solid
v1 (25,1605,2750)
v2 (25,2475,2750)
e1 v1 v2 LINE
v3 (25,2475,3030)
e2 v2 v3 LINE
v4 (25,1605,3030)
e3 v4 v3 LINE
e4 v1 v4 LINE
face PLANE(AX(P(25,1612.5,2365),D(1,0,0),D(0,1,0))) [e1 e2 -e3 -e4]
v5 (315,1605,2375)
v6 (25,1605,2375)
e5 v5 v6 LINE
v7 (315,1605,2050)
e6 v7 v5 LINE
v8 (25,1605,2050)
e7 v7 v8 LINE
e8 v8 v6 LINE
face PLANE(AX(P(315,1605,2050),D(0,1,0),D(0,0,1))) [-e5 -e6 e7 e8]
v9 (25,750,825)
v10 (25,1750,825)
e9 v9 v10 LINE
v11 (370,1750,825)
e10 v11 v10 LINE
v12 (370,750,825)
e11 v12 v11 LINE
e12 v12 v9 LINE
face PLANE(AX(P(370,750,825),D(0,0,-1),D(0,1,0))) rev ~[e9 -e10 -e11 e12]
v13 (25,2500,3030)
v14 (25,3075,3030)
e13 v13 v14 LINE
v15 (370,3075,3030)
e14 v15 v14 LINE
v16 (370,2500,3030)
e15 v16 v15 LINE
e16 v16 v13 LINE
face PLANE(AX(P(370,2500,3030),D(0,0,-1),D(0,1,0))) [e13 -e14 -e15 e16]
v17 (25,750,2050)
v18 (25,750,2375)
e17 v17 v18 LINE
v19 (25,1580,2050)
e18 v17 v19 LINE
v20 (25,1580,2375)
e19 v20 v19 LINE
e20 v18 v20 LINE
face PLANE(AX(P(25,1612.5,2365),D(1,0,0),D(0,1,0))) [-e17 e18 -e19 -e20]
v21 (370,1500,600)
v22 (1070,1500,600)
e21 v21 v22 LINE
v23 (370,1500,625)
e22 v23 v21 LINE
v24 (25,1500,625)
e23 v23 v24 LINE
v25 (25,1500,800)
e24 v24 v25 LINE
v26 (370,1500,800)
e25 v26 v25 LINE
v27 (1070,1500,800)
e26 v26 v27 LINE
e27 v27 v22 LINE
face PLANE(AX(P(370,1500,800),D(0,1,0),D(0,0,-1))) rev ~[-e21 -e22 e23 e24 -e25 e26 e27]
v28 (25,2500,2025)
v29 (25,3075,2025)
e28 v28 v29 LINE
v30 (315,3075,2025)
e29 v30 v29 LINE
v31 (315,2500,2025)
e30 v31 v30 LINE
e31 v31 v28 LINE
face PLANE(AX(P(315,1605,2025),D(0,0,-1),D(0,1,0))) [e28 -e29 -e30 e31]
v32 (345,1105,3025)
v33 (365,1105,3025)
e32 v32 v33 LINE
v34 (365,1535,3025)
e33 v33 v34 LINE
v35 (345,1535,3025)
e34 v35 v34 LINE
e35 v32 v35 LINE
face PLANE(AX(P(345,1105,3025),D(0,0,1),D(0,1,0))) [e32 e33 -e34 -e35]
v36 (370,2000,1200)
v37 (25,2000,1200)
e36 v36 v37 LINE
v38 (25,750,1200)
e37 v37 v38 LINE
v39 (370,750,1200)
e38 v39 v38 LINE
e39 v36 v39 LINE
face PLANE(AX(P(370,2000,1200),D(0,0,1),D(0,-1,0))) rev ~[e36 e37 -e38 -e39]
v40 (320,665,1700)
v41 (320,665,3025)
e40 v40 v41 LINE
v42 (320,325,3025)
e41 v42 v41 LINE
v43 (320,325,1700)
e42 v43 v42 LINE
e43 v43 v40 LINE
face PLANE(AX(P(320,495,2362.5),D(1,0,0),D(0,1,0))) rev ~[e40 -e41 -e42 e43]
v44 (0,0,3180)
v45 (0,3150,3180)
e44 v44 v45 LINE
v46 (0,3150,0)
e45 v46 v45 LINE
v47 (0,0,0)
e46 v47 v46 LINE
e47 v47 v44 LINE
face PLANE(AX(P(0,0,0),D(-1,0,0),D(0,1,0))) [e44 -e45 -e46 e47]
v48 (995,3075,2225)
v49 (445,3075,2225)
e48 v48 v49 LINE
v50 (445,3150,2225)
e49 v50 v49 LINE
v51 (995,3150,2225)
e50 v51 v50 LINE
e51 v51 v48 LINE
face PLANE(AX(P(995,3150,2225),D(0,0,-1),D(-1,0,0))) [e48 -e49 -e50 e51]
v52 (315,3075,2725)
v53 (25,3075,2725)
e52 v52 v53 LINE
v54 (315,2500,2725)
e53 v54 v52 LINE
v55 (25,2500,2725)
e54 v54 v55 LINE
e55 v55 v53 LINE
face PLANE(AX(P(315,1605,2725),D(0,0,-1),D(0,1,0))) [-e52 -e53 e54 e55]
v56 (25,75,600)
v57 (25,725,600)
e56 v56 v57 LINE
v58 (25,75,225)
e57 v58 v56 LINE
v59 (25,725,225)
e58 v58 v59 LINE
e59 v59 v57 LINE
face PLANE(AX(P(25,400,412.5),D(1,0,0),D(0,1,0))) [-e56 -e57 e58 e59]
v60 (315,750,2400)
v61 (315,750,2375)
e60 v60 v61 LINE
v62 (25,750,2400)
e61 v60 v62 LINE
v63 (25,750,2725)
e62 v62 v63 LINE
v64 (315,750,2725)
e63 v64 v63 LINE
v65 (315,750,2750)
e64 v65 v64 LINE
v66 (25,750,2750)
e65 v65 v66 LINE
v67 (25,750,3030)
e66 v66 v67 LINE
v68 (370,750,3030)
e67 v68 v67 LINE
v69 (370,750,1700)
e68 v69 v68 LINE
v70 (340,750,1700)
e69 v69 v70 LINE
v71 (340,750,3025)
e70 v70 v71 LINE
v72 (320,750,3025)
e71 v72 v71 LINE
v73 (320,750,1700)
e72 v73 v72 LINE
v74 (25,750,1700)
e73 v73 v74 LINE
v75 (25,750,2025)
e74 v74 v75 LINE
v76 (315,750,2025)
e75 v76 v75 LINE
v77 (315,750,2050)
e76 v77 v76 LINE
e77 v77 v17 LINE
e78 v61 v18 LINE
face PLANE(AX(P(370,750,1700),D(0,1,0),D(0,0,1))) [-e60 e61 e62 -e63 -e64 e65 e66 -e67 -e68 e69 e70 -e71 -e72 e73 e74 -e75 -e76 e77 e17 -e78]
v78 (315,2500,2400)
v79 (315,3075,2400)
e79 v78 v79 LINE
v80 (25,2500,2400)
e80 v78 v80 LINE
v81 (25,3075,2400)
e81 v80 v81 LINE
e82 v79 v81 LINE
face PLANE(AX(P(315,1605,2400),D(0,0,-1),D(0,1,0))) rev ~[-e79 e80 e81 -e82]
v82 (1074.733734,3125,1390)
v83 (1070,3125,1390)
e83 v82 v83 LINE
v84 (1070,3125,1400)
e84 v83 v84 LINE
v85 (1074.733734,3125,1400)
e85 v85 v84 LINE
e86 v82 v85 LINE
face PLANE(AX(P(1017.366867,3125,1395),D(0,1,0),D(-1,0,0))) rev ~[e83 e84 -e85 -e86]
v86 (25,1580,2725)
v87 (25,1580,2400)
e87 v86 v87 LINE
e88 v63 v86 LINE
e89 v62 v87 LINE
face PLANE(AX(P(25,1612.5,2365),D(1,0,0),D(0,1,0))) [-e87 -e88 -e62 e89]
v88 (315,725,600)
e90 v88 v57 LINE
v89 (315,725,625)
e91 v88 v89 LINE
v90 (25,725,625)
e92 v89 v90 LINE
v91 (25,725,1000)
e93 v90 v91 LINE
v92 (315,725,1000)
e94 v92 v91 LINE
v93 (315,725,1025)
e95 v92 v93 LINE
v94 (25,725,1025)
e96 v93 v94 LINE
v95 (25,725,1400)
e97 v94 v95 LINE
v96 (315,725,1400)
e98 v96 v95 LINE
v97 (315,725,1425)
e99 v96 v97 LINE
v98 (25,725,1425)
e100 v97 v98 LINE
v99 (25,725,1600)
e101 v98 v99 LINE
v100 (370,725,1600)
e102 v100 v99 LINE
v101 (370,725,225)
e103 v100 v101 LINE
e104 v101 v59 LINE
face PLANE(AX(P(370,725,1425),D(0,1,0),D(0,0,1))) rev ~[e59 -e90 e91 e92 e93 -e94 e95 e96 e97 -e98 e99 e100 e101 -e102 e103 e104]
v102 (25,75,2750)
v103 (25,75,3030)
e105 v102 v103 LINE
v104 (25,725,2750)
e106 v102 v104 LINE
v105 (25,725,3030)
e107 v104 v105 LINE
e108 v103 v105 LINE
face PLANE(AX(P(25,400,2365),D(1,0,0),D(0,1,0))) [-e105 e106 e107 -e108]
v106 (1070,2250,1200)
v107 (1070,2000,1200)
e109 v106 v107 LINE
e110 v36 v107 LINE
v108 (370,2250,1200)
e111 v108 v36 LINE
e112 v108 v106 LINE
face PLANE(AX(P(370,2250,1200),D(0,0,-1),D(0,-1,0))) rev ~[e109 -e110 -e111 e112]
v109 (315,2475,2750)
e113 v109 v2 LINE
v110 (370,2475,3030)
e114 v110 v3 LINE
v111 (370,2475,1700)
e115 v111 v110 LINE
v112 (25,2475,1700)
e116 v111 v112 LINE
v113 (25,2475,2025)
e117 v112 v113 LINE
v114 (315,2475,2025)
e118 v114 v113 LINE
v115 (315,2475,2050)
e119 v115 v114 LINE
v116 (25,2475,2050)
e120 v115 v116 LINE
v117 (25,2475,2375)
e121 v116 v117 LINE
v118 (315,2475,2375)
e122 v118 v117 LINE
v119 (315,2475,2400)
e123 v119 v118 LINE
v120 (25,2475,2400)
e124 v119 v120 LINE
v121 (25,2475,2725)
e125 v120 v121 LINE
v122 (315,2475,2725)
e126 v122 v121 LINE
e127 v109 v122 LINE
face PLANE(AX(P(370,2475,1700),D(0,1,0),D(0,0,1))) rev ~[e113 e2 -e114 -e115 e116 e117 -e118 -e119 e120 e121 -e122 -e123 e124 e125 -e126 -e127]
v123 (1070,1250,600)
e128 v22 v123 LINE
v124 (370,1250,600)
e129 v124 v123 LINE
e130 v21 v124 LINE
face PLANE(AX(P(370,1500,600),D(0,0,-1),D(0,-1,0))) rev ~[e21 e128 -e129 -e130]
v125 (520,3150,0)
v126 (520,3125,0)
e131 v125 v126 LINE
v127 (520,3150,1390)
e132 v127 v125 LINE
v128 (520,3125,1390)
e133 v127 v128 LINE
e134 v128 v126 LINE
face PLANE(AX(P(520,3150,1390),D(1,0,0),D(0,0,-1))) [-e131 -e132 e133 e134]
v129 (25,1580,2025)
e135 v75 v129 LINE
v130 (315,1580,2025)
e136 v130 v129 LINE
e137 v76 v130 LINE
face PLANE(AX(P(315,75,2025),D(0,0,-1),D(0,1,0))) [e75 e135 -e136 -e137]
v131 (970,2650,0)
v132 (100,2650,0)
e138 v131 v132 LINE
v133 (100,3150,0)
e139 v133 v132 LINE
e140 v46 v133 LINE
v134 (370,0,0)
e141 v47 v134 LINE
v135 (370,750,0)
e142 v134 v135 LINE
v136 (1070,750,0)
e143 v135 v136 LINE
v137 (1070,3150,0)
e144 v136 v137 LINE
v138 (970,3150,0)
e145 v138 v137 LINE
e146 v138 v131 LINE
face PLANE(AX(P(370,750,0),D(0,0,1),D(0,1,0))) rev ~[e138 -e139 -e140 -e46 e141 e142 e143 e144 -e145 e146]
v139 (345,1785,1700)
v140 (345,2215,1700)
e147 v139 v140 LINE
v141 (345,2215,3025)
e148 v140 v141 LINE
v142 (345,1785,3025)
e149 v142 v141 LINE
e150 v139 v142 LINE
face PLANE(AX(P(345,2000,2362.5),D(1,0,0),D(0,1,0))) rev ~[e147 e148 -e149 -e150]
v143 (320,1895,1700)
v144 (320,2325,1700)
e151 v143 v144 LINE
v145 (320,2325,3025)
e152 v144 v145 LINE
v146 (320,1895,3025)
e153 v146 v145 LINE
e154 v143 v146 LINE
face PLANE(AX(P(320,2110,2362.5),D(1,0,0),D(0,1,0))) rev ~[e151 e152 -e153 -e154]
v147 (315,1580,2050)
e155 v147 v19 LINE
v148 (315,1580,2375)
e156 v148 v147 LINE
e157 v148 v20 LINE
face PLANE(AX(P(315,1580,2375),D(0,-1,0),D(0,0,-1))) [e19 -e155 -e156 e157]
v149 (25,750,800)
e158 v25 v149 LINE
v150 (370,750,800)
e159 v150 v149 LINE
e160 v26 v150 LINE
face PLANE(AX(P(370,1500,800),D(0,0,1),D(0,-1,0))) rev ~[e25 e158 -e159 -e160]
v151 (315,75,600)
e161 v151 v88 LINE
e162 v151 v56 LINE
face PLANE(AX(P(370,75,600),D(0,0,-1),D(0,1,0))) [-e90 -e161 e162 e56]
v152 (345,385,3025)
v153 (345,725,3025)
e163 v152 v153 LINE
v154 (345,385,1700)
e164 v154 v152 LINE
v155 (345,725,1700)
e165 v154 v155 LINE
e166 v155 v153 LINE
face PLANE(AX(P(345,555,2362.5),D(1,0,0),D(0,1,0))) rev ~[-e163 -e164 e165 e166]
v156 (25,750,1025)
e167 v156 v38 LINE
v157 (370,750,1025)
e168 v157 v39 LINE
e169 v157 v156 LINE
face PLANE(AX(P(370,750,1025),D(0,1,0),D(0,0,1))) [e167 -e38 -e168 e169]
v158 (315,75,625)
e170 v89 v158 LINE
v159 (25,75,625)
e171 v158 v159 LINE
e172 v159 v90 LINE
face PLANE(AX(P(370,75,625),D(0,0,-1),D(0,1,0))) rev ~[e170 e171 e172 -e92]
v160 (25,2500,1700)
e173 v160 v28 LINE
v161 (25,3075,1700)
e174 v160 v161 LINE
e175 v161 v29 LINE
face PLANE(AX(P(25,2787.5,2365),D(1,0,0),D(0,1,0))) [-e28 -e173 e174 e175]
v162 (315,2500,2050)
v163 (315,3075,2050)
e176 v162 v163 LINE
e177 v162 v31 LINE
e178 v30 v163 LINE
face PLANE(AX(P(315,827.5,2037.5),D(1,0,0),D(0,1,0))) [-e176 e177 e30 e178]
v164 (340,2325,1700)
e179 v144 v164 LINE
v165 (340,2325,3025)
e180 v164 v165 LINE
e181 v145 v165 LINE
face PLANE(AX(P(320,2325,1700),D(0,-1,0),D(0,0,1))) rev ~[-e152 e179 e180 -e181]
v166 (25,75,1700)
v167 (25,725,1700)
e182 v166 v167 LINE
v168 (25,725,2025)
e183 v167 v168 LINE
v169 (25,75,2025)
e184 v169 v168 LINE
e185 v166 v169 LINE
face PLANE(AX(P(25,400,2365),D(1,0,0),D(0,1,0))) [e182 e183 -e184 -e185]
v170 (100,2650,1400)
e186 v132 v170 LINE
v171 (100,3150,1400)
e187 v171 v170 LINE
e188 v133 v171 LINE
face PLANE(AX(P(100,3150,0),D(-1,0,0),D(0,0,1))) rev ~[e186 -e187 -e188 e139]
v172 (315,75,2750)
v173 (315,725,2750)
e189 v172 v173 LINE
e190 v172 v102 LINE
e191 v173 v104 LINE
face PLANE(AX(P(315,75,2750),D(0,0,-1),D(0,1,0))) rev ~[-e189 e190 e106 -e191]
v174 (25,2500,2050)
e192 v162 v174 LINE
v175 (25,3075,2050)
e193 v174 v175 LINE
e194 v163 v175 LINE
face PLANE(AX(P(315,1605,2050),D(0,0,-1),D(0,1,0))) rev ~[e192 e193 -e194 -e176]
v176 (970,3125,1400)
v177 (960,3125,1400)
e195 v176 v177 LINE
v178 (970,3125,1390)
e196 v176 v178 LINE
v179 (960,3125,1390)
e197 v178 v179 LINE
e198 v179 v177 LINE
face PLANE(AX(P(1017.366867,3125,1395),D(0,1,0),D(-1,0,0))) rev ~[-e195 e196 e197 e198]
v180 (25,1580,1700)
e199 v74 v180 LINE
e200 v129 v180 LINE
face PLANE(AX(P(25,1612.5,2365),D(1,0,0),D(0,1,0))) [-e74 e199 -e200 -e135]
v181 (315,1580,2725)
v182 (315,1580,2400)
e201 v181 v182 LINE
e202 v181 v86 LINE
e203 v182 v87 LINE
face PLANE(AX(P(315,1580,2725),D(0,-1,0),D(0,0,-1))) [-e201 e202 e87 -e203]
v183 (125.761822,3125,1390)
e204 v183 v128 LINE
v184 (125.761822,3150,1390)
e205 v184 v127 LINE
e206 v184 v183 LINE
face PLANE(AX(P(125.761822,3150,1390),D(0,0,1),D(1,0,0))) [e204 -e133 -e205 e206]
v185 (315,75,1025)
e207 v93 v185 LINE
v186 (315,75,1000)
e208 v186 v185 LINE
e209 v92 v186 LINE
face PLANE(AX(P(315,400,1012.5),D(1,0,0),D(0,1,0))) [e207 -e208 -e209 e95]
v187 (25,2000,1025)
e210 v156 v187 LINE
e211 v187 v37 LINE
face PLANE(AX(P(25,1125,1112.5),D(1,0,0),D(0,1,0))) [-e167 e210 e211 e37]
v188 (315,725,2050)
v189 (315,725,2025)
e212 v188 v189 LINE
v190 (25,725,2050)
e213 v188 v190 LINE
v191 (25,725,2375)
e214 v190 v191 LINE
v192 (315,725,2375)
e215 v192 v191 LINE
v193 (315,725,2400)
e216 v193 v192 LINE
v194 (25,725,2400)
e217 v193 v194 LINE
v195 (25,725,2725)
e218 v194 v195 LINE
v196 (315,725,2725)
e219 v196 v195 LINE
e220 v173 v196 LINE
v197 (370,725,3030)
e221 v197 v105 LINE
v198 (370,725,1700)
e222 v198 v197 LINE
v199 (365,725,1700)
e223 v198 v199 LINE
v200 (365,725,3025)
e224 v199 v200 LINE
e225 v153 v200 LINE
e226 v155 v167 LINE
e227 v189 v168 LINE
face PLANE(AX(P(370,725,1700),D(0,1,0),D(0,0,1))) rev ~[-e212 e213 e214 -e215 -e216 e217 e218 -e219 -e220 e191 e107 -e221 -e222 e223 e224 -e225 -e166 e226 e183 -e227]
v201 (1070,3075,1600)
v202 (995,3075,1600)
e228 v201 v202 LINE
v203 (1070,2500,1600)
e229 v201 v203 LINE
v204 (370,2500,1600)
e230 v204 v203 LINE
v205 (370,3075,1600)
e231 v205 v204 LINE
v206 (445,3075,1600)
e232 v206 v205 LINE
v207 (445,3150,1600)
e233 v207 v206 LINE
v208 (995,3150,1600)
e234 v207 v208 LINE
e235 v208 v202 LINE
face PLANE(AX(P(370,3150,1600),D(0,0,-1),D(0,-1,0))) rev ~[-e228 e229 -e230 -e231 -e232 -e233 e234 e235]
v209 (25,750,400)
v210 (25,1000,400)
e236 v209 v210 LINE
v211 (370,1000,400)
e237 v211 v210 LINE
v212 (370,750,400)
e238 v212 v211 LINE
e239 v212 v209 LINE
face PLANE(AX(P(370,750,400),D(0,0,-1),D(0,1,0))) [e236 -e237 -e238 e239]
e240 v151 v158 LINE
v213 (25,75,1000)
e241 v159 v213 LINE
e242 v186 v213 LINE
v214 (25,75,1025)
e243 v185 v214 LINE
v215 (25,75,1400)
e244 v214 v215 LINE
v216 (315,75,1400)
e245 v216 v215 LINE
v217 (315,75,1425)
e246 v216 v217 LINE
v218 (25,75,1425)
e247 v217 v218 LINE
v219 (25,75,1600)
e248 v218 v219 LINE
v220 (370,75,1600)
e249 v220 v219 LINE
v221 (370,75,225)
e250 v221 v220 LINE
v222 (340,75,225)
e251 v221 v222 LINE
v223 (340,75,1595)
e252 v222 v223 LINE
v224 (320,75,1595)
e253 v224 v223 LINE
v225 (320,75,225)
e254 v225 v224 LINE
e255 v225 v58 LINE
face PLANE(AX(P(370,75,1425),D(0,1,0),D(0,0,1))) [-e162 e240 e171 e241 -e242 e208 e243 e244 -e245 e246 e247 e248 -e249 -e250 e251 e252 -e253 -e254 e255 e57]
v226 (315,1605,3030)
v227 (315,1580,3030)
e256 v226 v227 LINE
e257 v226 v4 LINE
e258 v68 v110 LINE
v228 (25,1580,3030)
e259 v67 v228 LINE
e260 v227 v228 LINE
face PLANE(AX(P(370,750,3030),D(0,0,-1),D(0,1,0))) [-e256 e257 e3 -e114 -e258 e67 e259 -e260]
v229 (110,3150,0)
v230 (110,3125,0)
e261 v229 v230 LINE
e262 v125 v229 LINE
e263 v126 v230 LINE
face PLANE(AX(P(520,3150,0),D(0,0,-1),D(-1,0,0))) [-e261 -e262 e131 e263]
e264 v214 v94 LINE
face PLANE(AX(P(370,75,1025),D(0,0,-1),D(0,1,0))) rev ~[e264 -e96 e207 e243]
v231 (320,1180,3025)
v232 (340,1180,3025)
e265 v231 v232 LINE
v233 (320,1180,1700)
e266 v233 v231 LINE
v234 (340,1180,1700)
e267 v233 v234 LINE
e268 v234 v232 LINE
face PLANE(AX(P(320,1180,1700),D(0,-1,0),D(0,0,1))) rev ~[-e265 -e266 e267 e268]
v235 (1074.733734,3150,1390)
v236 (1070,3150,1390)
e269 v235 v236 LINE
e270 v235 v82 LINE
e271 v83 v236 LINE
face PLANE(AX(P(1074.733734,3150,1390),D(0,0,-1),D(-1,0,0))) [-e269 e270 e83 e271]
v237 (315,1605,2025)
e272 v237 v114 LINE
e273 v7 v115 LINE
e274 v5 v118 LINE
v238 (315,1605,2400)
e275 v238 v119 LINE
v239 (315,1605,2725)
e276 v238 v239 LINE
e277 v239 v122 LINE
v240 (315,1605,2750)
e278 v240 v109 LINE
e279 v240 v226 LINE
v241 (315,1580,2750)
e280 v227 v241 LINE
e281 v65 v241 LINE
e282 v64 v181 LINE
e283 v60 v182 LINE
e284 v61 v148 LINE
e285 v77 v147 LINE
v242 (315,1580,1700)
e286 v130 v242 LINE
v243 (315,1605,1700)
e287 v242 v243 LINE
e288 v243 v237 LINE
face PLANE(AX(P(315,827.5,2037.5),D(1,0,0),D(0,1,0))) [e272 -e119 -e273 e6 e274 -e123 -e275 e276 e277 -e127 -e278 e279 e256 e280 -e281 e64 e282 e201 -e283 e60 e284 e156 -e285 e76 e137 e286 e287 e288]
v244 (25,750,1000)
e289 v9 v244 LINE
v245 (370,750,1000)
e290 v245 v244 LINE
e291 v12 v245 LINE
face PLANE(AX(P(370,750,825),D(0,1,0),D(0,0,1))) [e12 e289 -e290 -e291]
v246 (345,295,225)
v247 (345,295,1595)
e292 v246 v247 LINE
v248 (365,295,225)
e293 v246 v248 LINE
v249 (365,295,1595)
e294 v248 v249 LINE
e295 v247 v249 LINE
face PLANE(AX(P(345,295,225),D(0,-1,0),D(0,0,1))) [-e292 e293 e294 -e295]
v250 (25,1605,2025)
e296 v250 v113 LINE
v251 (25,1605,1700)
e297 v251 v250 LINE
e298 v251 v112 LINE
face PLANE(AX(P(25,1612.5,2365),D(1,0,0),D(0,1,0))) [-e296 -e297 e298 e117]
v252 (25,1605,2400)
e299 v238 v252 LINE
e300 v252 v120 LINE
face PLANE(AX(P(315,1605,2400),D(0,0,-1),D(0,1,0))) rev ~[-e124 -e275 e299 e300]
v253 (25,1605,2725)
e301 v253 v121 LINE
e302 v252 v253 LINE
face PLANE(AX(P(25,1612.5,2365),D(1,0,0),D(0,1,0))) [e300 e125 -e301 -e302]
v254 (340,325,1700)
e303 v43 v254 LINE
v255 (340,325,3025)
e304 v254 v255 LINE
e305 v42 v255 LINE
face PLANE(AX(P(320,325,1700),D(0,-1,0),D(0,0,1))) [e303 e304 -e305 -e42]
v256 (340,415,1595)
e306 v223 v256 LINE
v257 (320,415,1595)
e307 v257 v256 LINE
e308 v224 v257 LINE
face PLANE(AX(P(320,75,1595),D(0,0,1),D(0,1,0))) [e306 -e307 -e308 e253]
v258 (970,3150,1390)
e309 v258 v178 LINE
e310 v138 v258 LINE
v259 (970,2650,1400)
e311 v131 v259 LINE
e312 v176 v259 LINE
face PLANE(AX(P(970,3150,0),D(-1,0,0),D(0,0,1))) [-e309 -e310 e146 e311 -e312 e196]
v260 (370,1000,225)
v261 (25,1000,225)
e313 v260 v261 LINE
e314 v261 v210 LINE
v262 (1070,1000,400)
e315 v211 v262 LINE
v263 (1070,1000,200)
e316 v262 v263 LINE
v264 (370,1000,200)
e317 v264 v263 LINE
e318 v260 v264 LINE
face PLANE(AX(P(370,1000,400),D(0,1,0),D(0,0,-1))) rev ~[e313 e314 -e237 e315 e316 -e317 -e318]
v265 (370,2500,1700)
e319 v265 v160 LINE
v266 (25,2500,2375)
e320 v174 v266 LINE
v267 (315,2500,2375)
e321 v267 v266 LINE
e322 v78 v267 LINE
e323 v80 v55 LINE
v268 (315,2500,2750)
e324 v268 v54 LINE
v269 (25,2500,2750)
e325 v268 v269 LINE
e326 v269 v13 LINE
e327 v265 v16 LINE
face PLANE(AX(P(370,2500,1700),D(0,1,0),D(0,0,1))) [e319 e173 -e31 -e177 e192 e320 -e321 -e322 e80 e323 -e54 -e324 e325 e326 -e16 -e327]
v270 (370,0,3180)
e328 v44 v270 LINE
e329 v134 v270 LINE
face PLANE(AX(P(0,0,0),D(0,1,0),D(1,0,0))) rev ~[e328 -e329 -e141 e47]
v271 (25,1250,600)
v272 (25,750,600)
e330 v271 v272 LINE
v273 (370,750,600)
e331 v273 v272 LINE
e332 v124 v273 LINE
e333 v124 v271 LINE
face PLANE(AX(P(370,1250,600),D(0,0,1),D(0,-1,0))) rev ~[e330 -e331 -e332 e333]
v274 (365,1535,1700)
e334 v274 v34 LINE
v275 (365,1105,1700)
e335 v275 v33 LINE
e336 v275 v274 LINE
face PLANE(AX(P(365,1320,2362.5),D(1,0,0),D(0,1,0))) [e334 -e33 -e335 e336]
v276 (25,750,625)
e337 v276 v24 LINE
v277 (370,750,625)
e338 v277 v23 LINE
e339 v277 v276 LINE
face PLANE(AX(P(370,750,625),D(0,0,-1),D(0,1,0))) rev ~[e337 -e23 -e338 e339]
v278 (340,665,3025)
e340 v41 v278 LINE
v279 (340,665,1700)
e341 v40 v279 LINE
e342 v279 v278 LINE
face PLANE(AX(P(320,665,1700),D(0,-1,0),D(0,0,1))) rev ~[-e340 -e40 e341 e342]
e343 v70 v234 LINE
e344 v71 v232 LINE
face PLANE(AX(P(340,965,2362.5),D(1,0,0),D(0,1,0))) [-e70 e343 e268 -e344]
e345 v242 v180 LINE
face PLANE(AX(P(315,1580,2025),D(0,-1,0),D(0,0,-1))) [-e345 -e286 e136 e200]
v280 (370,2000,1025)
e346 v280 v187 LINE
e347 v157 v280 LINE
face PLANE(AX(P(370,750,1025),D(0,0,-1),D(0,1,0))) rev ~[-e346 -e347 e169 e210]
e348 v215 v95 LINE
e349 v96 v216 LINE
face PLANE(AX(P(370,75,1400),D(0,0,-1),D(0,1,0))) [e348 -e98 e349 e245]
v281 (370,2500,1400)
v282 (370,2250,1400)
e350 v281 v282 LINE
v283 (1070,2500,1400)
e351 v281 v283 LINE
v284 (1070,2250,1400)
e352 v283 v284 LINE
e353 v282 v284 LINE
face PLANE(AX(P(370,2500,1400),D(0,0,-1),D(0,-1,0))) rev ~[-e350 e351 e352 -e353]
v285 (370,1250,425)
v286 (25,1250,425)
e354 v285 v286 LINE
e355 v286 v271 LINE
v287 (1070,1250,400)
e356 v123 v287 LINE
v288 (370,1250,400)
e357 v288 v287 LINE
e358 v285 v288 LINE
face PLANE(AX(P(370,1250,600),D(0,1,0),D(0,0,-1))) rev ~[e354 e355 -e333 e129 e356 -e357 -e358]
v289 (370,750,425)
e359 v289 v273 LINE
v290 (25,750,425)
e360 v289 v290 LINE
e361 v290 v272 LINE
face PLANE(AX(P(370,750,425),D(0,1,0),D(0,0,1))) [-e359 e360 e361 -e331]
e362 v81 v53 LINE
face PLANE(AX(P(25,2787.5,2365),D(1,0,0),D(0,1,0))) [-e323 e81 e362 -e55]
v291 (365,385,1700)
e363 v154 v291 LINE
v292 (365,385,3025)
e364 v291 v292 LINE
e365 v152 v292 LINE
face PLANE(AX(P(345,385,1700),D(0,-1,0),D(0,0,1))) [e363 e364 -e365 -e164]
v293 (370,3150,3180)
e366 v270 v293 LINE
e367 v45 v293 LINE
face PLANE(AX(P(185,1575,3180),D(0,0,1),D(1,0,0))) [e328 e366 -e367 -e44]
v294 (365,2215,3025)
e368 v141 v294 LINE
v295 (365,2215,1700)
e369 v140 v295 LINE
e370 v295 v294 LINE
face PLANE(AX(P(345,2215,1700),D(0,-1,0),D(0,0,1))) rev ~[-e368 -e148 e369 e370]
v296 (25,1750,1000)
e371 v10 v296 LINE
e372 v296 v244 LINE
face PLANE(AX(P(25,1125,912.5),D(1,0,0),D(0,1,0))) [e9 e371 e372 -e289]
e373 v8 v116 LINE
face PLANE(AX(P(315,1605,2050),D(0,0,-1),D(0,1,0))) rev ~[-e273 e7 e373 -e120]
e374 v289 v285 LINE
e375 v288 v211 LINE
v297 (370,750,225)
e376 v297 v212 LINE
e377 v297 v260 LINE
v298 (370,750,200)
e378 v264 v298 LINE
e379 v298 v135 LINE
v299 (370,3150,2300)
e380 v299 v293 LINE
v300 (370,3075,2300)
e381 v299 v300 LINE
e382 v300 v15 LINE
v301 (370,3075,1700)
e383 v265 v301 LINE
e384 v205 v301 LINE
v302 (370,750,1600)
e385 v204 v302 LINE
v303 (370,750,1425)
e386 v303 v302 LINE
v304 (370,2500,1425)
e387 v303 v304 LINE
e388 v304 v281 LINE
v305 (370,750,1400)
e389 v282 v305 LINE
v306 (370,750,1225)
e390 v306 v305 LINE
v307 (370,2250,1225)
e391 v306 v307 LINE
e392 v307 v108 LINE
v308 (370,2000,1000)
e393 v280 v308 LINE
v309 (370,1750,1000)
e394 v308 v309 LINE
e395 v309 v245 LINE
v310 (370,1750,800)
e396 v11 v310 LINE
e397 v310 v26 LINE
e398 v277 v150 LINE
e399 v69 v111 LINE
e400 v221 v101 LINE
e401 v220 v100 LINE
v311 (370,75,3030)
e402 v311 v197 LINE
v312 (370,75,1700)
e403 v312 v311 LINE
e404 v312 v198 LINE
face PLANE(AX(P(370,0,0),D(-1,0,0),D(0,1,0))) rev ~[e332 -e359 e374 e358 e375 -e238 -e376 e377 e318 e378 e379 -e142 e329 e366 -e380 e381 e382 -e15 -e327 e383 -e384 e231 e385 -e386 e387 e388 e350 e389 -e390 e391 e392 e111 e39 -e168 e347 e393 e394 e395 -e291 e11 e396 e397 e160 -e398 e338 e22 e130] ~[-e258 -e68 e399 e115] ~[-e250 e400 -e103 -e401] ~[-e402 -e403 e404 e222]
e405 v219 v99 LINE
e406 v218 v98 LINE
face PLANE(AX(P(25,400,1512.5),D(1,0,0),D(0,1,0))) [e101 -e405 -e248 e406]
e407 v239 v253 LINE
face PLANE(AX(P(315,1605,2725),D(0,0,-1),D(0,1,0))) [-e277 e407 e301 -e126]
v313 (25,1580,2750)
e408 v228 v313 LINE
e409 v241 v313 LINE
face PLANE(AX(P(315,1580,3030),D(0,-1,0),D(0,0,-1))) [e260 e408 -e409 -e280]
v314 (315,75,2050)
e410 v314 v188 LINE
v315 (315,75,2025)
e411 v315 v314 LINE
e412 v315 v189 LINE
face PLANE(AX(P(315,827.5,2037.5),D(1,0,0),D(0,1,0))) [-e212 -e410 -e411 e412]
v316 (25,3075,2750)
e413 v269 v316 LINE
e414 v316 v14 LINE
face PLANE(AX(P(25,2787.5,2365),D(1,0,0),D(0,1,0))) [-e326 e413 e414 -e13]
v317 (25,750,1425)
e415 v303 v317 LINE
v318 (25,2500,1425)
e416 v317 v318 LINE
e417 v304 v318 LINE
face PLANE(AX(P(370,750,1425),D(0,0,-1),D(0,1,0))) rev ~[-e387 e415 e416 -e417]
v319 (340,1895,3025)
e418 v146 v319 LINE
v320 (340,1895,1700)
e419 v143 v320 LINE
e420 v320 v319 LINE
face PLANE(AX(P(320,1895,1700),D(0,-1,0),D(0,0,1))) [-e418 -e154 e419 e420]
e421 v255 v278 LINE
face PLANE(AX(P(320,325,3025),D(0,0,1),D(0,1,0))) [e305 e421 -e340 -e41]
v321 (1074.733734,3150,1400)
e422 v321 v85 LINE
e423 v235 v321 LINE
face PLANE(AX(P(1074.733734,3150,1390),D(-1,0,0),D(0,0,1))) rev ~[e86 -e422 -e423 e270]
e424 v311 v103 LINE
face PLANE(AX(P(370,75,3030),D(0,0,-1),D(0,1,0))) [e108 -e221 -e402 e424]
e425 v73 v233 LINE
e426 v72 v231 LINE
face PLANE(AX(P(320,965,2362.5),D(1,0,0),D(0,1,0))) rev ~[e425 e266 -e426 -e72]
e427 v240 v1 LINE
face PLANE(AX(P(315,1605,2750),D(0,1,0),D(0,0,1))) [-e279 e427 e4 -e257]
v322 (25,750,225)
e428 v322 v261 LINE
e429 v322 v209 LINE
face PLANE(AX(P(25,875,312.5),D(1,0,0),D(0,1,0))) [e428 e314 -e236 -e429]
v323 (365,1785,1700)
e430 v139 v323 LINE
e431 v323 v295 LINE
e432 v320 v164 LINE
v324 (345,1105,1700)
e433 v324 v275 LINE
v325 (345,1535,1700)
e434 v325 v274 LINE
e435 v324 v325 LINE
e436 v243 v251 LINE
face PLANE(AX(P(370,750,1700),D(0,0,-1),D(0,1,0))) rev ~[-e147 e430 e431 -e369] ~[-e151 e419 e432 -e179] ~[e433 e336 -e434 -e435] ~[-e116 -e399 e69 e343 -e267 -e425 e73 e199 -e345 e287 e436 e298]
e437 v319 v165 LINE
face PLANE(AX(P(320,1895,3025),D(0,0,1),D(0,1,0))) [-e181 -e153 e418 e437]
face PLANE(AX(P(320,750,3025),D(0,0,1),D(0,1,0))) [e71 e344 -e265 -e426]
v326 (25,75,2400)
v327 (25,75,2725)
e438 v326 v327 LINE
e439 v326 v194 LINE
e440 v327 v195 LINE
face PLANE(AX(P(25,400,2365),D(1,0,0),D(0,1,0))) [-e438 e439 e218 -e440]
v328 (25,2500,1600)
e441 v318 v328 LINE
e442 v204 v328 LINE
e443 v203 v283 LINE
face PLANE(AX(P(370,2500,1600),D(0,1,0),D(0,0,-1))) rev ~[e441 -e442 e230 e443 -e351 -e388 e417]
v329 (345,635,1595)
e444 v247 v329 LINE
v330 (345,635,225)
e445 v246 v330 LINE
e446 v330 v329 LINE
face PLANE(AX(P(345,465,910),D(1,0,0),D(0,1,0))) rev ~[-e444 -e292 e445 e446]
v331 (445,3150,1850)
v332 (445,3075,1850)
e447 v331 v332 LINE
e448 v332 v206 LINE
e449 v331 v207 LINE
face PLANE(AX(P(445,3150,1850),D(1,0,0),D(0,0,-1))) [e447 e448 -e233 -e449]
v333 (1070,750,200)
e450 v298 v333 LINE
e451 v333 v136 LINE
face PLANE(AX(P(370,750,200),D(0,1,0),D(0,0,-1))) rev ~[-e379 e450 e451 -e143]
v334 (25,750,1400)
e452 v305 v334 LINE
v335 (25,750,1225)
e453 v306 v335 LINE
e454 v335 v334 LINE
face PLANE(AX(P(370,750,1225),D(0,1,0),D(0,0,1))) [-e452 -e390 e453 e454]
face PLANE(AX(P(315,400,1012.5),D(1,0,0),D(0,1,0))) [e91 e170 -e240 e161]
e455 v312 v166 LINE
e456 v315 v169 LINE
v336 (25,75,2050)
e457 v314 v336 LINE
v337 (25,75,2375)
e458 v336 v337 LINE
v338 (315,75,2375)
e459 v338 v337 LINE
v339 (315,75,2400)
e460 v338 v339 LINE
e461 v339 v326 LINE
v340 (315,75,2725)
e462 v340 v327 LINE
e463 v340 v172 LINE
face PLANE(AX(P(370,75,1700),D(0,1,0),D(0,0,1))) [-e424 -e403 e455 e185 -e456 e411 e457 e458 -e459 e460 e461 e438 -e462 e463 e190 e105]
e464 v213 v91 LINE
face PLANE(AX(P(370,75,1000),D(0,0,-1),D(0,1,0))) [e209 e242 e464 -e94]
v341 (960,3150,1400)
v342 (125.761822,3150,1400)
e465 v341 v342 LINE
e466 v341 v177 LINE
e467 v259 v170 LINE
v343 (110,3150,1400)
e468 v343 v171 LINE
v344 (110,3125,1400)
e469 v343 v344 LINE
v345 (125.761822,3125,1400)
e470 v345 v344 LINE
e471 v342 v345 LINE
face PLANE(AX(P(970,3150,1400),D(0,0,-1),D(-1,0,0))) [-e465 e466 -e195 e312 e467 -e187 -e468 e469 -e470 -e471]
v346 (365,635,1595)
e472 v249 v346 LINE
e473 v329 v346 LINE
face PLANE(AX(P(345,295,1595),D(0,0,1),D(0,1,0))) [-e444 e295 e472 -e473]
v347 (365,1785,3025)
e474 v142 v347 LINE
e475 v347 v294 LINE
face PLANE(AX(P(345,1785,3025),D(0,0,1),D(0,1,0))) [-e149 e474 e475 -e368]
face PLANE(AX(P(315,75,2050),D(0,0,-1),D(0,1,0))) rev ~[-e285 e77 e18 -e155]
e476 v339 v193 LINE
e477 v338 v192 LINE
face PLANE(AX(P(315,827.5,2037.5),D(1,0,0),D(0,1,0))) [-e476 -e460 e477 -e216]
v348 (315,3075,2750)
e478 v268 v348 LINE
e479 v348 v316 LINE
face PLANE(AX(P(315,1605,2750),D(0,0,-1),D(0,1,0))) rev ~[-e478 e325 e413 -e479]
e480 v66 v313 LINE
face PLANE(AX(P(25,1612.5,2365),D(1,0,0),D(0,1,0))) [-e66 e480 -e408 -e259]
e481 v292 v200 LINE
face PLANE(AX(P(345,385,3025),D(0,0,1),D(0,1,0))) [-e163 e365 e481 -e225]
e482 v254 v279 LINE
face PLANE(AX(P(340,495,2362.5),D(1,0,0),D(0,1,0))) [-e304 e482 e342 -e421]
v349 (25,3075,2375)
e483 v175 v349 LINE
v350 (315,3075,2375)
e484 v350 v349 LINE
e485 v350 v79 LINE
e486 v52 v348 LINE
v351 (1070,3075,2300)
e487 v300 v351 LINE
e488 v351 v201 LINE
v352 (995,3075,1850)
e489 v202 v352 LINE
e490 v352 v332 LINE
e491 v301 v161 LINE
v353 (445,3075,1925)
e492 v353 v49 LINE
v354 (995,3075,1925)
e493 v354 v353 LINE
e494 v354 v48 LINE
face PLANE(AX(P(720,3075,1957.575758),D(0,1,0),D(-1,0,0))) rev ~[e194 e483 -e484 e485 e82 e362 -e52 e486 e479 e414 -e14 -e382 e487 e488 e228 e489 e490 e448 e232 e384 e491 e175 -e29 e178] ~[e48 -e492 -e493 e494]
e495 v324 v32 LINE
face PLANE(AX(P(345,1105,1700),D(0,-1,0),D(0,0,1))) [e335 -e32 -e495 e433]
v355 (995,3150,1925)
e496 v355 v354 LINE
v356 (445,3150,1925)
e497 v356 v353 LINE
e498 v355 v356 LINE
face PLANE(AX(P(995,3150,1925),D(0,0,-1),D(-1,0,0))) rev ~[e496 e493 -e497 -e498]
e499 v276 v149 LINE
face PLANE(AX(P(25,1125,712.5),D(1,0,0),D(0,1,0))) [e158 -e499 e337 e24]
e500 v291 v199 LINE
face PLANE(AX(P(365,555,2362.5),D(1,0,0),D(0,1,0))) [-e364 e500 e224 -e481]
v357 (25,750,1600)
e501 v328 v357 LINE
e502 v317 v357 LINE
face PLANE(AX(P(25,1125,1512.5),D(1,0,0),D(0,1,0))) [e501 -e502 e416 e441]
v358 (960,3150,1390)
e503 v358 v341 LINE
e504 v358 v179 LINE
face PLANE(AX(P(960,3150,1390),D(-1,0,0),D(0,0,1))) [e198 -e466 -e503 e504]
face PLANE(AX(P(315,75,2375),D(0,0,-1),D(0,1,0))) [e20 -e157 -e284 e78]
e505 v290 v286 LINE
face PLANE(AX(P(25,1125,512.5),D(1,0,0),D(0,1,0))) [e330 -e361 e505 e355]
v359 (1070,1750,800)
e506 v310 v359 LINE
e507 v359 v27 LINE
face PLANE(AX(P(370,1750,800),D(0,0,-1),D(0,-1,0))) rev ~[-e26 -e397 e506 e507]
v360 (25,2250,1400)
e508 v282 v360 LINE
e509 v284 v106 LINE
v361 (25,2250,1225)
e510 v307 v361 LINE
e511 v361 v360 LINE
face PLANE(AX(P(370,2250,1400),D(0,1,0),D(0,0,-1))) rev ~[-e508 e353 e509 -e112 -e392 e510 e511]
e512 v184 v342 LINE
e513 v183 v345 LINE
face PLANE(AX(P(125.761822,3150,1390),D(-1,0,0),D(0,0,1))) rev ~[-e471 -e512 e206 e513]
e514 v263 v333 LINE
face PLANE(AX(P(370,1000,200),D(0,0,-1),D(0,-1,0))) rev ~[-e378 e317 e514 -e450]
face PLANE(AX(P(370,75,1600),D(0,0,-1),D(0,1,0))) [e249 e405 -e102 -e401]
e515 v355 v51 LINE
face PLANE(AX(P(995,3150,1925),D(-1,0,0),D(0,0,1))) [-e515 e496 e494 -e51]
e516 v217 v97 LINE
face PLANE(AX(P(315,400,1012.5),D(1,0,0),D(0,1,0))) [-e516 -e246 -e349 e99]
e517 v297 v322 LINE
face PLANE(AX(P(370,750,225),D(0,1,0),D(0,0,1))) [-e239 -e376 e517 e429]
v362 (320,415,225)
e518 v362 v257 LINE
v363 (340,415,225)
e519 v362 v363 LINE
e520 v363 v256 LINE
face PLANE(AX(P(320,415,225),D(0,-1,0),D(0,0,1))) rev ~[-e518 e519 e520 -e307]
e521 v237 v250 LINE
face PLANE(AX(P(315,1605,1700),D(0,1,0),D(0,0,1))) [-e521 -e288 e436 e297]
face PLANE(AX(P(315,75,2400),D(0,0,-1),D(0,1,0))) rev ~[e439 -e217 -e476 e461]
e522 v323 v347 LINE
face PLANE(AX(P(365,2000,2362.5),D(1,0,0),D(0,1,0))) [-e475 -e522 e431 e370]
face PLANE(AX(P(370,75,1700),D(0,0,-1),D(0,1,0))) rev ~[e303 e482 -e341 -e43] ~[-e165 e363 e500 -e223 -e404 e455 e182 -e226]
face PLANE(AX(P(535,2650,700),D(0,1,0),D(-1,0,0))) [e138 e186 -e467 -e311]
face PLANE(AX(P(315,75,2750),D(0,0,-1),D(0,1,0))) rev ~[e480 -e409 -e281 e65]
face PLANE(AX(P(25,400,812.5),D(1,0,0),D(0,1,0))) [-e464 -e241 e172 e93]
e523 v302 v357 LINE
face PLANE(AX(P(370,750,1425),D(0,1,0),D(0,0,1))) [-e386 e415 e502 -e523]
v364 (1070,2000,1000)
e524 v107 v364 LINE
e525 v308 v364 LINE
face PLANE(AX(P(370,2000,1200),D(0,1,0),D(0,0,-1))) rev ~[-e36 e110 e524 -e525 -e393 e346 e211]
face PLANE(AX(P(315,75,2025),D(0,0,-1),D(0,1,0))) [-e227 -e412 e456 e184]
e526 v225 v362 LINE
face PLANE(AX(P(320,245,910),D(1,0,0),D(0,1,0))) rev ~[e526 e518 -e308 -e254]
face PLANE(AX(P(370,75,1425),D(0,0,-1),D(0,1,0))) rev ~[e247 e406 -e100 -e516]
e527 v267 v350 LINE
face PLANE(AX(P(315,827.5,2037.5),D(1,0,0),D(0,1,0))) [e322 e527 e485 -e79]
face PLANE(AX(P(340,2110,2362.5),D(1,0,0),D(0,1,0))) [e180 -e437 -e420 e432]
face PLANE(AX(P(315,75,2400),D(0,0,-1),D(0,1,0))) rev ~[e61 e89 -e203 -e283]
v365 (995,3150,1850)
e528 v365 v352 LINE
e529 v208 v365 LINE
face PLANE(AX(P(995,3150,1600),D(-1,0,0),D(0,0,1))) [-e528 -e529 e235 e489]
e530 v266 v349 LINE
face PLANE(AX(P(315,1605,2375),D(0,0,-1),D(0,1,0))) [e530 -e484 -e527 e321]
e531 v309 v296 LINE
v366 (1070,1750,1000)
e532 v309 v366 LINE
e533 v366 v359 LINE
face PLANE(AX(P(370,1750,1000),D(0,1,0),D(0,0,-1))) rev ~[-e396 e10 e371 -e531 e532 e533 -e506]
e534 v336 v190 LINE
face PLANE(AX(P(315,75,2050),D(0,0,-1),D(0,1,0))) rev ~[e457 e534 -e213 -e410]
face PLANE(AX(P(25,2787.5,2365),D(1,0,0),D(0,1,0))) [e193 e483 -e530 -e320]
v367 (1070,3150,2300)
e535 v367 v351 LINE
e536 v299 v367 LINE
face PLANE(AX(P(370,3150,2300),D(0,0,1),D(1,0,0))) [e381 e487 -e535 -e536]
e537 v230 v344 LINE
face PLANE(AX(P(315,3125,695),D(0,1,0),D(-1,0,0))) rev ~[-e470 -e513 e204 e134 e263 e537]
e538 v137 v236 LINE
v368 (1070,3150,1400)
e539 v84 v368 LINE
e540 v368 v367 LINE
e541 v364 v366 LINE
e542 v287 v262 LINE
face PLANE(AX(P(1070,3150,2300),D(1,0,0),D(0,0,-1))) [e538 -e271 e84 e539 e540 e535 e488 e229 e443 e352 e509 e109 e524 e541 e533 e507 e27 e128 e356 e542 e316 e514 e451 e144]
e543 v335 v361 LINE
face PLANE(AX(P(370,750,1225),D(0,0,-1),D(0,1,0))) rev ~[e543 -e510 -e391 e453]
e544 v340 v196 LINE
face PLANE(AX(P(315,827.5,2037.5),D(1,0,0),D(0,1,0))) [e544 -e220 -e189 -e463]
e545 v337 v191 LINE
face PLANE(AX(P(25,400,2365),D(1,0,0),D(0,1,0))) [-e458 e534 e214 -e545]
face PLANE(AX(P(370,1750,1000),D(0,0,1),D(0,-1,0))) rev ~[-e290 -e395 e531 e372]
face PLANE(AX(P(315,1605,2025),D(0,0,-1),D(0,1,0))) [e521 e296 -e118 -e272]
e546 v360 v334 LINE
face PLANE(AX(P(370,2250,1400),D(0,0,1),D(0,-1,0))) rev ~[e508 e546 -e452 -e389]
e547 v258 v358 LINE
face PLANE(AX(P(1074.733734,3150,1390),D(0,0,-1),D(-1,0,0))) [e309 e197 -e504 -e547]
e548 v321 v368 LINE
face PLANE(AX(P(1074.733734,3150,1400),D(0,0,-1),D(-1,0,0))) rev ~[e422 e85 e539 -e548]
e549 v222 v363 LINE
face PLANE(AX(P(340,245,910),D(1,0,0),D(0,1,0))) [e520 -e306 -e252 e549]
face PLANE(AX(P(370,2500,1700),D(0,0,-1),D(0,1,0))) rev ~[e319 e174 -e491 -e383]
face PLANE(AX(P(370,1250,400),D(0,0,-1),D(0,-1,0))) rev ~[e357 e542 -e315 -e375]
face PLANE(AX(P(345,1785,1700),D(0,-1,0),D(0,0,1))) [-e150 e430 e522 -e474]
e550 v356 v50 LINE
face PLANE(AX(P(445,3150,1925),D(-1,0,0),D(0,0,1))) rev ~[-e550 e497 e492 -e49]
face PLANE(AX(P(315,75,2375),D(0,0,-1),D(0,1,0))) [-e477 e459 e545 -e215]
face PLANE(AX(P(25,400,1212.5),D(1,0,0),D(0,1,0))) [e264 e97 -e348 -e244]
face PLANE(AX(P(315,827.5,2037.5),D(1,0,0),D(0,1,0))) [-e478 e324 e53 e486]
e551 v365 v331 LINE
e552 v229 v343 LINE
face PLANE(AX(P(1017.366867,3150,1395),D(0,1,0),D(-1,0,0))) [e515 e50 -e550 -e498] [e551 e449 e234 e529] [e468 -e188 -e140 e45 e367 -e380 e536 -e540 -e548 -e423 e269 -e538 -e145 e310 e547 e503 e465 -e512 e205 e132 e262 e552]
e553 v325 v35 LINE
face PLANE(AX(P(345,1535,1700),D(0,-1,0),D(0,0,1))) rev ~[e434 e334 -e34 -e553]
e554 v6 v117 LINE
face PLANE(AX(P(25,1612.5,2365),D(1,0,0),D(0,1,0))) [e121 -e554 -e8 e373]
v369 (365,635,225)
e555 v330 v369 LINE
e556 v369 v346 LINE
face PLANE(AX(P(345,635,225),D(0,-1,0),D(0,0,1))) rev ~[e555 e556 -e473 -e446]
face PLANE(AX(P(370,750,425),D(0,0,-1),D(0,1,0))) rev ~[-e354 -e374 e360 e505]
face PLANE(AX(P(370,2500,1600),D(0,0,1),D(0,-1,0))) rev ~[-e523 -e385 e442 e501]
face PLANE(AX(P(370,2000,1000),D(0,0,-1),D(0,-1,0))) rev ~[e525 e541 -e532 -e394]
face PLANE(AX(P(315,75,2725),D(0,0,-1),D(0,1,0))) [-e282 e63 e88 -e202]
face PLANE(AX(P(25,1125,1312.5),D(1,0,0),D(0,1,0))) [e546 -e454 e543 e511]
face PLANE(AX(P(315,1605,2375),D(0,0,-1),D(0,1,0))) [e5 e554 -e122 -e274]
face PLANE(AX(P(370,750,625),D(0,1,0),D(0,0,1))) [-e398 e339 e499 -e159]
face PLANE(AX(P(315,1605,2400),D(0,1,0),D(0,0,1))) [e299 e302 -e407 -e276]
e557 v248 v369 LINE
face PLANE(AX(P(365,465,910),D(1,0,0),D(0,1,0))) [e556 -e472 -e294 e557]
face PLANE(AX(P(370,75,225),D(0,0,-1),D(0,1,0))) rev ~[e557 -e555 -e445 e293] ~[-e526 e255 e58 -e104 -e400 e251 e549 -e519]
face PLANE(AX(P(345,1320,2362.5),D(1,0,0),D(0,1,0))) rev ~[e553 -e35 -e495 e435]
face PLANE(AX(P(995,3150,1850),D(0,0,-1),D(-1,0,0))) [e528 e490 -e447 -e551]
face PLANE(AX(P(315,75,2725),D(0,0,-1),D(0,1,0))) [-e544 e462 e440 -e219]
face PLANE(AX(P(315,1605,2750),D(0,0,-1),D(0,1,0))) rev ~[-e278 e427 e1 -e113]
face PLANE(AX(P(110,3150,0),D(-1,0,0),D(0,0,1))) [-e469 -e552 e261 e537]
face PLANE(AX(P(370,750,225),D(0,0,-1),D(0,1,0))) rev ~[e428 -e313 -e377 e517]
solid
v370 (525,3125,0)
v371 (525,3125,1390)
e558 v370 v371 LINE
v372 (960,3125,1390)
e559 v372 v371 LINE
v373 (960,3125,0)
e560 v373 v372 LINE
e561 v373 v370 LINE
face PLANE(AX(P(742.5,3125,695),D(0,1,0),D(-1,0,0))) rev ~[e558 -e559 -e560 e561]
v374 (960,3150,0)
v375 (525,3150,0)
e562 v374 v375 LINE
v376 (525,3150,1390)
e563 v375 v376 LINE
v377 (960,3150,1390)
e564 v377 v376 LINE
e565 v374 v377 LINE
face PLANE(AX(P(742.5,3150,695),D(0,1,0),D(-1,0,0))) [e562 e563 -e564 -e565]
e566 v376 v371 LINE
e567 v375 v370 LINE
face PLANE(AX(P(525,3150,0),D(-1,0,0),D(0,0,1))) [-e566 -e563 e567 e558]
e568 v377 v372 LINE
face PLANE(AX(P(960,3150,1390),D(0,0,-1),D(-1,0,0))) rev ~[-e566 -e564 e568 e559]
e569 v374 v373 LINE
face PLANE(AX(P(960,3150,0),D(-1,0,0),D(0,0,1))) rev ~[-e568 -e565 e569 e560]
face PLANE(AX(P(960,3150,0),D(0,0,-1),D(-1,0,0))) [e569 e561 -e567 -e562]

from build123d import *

# Parameters (mm, degrees)
F0_W      = 370
F0_H      = 3150
F1_DEPTH  = 3180
F3_DEPTH  = 700
F5_W      = 250
F5_H      = 175
F6_DEPTH  = 345
F7_W      = 650
F7_H      = 375
F7_H_2    = 175
F8_DEPTH  = 345
F10_W     = 650
F10_H     = 825
F11_DEPTH = 55
F9_W      = 575
F9_H      = 1330
F9_W_2    = 650
F9_W_3    = 1725
F12_DEPTH = 345
F13_W     = 1505
F13_H     = 25
F13_W_2   = 1470
F14_DEPTH = 290
F17_W     = 340
F17_H     = 1370
F17_H_2   = 1325
F17_W_2   = 430
F18_DEPTH = 20
F19_W     = 340
F19_H     = 1370
F19_H_2   = 1325
F19_W_2   = 430
F20_DEPTH = 20
F21_W     = 550
F21_H     = 300
F22_DEPTH = 75
F23_W     = 870
F23_H     = 1400
F24_DEPTH = 500
F25_W     = 435
F25_H     = 1390
F26_DEPTH = 25
F25_W_2   = 15.761821866
F25_H_2   = 10
F25_W_3   = 114.7337341309


with BuildPart() as f1:
    # F0 (on Top) → F1 (new body)
    with BuildSketch(Plane.XY):
        with Locations((185, 1575)):
            Rectangle(F0_W, F0_H)
    extrude(amount=F1_DEPTH)

    # F2 (on face) → F3 (join)
    with BuildSketch(Plane.YZ.offset(370)):
        Polygon((750, 0), (3150, 0), (3150, 1600), (2750, 1600), (2500, 1600), (2500, 1400), (2250, 1400), (2250, 1200), (2000, 1200), (2000, 1000), (1750, 1000), (1750, 800), (1500, 800), (1500, 600), (1250, 600), (1250, 400), (1000, 400), (1000, 200), (750, 200), align=None)
    extrude(amount=F3_DEPTH)

    # F5 (on face) → F6 (cut, through all)
    with BuildSketch(Plane.YZ.offset(370)):
        with Locations((875, 312.5)):
            Rectangle(F5_W, F5_H)
        with Locations((1125, 512.5)):
            Rectangle(F5_W, F5_H)
        with Locations((875, 512.5)):
            Rectangle(F5_W, F5_H)
        with Locations((1125, 712.5)):
            Rectangle(F5_W, F5_H)
        with Locations((875, 712.5)):
            Rectangle(F5_W, F5_H)
        with Locations((1375, 712.5)):
            Rectangle(F5_W, F5_H)
        with Locations((1125, 912.5)):
            Rectangle(F5_W, F5_H)
        with Locations((875, 912.5)):
            Rectangle(F5_W, F5_H)
        with Locations((1375, 912.5)):
            Rectangle(F5_W, F5_H)
        with Locations((1625, 912.5)):
            Rectangle(F5_W, F5_H)
        with Locations((1125, 1112.5)):
            Rectangle(F5_W, F5_H)
        with Locations((875, 1112.5)):
            Rectangle(F5_W, F5_H)
        with Locations((1375, 1112.5)):
            Rectangle(F5_W, F5_H)
        with Locations((1625, 1112.5)):
            Rectangle(F5_W, F5_H)
        with Locations((1875, 1112.5)):
            Rectangle(F5_W, F5_H)
        with Locations((1125, 1312.5)):
            Rectangle(F5_W, F5_H)
        with Locations((875, 1312.5)):
            Rectangle(F5_W, F5_H)
        with Locations((1375, 1312.5)):
            Rectangle(F5_W, F5_H)
        with Locations((1625, 1312.5)):
            Rectangle(F5_W, F5_H)
        with Locations((1875, 1312.5)):
            Rectangle(F5_W, F5_H)
        with Locations((2125, 1312.5)):
            Rectangle(F5_W, F5_H)
        with Locations((1125, 1512.5)):
            Rectangle(F5_W, F5_H)
        with Locations((875, 1512.5)):
            Rectangle(F5_W, F5_H)
        with Locations((1375, 1512.5)):
            Rectangle(F5_W, F5_H)
        with Locations((1625, 1512.5)):
            Rectangle(F5_W, F5_H)
        with Locations((1875, 1512.5)):
            Rectangle(F5_W, F5_H)
        with Locations((2125, 1512.5)):
            Rectangle(F5_W, F5_H)
        with Locations((2375, 1512.5)):
            Rectangle(F5_W, F5_H)
    extrude(amount=-F6_DEPTH, mode=Mode.SUBTRACT)

    # F7 (on face) → F8 (cut, through all)
    with BuildSketch(Plane.YZ.offset(370)):
        with Locations((400, 412.5)):
            Rectangle(F7_W, F7_H)
        with Locations((400, 812.5)):
            Rectangle(F7_W, F7_H)
        with Locations((400, 1212.5)):
            Rectangle(F7_W, F7_H)
        with Locations((400, 1512.5)):
            Rectangle(F7_W, F7_H_2)
    extrude(amount=-F8_DEPTH, mode=Mode.SUBTRACT)

    # F10 (on face) → F11 (cut)
    with BuildSketch(Plane.YZ.offset(370)):
        with Locations((400, 1012.5)):
            Rectangle(F10_W, F10_H)
    extrude(amount=-F11_DEPTH, mode=Mode.SUBTRACT)

    # F9 (on face) → F12 (cut, through all)
    with BuildSketch(Plane.YZ.offset(370)):
        with Locations((2787.5, 2365)):
            Rectangle(F9_W, F9_H)
        with Locations((400, 2365)):
            Rectangle(F9_W_2, F9_H)
        with Locations((1612.5, 2365)):
            Rectangle(F9_W_3, F9_H)
    extrude(amount=-F12_DEPTH, mode=Mode.SUBTRACT)

    # F13 (on face) → F14 (join, through all)
    with BuildSketch(Plane.YZ.offset(315)):
        with Locations((827.5, 2037.5)):
            Rectangle(F13_W, F13_H)
        Polygon((1580, 2050), (1580, 2025), (1580, 1700), (1605, 1700), (1605, 2025), (1605, 2050), (1605, 2375), (1605, 2400), (1605, 2725), (1605, 2750), (1605, 3030), (1580, 3030), (1580, 2750), (1580, 2725), (1580, 2400), (1580, 2375), align=None)
        with Locations((827.5, 2387.5)):
            Rectangle(F13_W, F13_H)
        with Locations((2340, 2037.5)):
            Rectangle(F13_W_2, F13_H)
        with Locations((827.5, 2737.5)):
            Rectangle(F13_W, F13_H)
        with Locations((2340, 2387.5)):
            Rectangle(F13_W_2, F13_H)
        with Locations((2340, 2737.5)):
            Rectangle(F13_W_2, F13_H)
    extrude(amount=-F14_DEPTH)

    # F17 (on offset) → F18 (join)
    with BuildSketch(Plane.YZ.offset(320)):
        with Locations((245, 910)):
            Rectangle(F17_W, F17_H)
        with Locations((495, 2362.5)):
            Rectangle(F17_W, F17_H_2)
        with Locations((965, 2362.5)):
            Rectangle(F17_W_2, F17_H_2)
        with Locations((2110, 2362.5)):
            Rectangle(F17_W_2, F17_H_2)
    extrude(amount=F18_DEPTH)

    # F19 (on offset) → F20 (join)
    with BuildSketch(Plane.YZ.offset(345)):
        with Locations((465, 910)):
            Rectangle(F19_W, F19_H)
        with Locations((555, 2362.5)):
            Rectangle(F19_W, F19_H_2)
        with Locations((1320, 2362.5)):
            Rectangle(F19_W_2, F19_H_2)
        with Locations((2000, 2362.5)):
            Rectangle(F19_W_2, F19_H_2)
    extrude(amount=F20_DEPTH)

    # F21 (on face) → F22 (join, through all)
    with BuildSketch(Plane(origin=(0, 3150, 0), x_dir=(-1, 0, 0), z_dir=(0, 1, 0))):
        Polygon((-1070, 2300), (-1070, 1600), (-995, 1600), (-995, 1850), (-445, 1850), (-445, 1600), (-370, 1600), (-370, 2300), align=None)
        with Locations((-720, 2075)):
            Rectangle(F21_W, F21_H, mode=Mode.SUBTRACT)
    extrude(amount=-F22_DEPTH)

    # F23 (on face) → F24 (cut)
    with BuildSketch(Plane(origin=(0, 3150, 0), x_dir=(-1, 0, 0), z_dir=(0, 1, 0))):
        with Locations((-535, 700)):
            Rectangle(F23_W, F23_H)
    extrude(amount=-F24_DEPTH, mode=Mode.SUBTRACT)



with BuildPart() as f26:
    # F25 (on face) → F26 (new body)
    with BuildSketch(Plane(origin=(0, 3150, 0), x_dir=(-1, 0, 0), z_dir=(0, 1, 0))):
        with Locations((-742.5, 695)):
            Rectangle(F25_W, F25_H)
    extrude(amount=-F26_DEPTH)


with BuildPart() as f1_1:
    add(f1.part)

    add(f26.part)  # F26#2 merges F26
    # F25 (on face) → F26, piece 2 (join)
    with BuildSketch(Plane(origin=(0, 3150, 0), x_dir=(-1, 0, 0), z_dir=(0, 1, 0))):
        Polygon((-520, 1390), (-520, 0), (-110, 0), (-110, 1390), (-125.761821866, 1390), align=None)
        with Locations((-117.880910933, 1395)):
            Rectangle(F25_W_2, F25_H_2)
        with Locations((-1017.3668670654, 1395)):
            Rectangle(F25_W_3, F25_H_2)
    extrude(amount=-F26_DEPTH)


solid = f1_1.part
